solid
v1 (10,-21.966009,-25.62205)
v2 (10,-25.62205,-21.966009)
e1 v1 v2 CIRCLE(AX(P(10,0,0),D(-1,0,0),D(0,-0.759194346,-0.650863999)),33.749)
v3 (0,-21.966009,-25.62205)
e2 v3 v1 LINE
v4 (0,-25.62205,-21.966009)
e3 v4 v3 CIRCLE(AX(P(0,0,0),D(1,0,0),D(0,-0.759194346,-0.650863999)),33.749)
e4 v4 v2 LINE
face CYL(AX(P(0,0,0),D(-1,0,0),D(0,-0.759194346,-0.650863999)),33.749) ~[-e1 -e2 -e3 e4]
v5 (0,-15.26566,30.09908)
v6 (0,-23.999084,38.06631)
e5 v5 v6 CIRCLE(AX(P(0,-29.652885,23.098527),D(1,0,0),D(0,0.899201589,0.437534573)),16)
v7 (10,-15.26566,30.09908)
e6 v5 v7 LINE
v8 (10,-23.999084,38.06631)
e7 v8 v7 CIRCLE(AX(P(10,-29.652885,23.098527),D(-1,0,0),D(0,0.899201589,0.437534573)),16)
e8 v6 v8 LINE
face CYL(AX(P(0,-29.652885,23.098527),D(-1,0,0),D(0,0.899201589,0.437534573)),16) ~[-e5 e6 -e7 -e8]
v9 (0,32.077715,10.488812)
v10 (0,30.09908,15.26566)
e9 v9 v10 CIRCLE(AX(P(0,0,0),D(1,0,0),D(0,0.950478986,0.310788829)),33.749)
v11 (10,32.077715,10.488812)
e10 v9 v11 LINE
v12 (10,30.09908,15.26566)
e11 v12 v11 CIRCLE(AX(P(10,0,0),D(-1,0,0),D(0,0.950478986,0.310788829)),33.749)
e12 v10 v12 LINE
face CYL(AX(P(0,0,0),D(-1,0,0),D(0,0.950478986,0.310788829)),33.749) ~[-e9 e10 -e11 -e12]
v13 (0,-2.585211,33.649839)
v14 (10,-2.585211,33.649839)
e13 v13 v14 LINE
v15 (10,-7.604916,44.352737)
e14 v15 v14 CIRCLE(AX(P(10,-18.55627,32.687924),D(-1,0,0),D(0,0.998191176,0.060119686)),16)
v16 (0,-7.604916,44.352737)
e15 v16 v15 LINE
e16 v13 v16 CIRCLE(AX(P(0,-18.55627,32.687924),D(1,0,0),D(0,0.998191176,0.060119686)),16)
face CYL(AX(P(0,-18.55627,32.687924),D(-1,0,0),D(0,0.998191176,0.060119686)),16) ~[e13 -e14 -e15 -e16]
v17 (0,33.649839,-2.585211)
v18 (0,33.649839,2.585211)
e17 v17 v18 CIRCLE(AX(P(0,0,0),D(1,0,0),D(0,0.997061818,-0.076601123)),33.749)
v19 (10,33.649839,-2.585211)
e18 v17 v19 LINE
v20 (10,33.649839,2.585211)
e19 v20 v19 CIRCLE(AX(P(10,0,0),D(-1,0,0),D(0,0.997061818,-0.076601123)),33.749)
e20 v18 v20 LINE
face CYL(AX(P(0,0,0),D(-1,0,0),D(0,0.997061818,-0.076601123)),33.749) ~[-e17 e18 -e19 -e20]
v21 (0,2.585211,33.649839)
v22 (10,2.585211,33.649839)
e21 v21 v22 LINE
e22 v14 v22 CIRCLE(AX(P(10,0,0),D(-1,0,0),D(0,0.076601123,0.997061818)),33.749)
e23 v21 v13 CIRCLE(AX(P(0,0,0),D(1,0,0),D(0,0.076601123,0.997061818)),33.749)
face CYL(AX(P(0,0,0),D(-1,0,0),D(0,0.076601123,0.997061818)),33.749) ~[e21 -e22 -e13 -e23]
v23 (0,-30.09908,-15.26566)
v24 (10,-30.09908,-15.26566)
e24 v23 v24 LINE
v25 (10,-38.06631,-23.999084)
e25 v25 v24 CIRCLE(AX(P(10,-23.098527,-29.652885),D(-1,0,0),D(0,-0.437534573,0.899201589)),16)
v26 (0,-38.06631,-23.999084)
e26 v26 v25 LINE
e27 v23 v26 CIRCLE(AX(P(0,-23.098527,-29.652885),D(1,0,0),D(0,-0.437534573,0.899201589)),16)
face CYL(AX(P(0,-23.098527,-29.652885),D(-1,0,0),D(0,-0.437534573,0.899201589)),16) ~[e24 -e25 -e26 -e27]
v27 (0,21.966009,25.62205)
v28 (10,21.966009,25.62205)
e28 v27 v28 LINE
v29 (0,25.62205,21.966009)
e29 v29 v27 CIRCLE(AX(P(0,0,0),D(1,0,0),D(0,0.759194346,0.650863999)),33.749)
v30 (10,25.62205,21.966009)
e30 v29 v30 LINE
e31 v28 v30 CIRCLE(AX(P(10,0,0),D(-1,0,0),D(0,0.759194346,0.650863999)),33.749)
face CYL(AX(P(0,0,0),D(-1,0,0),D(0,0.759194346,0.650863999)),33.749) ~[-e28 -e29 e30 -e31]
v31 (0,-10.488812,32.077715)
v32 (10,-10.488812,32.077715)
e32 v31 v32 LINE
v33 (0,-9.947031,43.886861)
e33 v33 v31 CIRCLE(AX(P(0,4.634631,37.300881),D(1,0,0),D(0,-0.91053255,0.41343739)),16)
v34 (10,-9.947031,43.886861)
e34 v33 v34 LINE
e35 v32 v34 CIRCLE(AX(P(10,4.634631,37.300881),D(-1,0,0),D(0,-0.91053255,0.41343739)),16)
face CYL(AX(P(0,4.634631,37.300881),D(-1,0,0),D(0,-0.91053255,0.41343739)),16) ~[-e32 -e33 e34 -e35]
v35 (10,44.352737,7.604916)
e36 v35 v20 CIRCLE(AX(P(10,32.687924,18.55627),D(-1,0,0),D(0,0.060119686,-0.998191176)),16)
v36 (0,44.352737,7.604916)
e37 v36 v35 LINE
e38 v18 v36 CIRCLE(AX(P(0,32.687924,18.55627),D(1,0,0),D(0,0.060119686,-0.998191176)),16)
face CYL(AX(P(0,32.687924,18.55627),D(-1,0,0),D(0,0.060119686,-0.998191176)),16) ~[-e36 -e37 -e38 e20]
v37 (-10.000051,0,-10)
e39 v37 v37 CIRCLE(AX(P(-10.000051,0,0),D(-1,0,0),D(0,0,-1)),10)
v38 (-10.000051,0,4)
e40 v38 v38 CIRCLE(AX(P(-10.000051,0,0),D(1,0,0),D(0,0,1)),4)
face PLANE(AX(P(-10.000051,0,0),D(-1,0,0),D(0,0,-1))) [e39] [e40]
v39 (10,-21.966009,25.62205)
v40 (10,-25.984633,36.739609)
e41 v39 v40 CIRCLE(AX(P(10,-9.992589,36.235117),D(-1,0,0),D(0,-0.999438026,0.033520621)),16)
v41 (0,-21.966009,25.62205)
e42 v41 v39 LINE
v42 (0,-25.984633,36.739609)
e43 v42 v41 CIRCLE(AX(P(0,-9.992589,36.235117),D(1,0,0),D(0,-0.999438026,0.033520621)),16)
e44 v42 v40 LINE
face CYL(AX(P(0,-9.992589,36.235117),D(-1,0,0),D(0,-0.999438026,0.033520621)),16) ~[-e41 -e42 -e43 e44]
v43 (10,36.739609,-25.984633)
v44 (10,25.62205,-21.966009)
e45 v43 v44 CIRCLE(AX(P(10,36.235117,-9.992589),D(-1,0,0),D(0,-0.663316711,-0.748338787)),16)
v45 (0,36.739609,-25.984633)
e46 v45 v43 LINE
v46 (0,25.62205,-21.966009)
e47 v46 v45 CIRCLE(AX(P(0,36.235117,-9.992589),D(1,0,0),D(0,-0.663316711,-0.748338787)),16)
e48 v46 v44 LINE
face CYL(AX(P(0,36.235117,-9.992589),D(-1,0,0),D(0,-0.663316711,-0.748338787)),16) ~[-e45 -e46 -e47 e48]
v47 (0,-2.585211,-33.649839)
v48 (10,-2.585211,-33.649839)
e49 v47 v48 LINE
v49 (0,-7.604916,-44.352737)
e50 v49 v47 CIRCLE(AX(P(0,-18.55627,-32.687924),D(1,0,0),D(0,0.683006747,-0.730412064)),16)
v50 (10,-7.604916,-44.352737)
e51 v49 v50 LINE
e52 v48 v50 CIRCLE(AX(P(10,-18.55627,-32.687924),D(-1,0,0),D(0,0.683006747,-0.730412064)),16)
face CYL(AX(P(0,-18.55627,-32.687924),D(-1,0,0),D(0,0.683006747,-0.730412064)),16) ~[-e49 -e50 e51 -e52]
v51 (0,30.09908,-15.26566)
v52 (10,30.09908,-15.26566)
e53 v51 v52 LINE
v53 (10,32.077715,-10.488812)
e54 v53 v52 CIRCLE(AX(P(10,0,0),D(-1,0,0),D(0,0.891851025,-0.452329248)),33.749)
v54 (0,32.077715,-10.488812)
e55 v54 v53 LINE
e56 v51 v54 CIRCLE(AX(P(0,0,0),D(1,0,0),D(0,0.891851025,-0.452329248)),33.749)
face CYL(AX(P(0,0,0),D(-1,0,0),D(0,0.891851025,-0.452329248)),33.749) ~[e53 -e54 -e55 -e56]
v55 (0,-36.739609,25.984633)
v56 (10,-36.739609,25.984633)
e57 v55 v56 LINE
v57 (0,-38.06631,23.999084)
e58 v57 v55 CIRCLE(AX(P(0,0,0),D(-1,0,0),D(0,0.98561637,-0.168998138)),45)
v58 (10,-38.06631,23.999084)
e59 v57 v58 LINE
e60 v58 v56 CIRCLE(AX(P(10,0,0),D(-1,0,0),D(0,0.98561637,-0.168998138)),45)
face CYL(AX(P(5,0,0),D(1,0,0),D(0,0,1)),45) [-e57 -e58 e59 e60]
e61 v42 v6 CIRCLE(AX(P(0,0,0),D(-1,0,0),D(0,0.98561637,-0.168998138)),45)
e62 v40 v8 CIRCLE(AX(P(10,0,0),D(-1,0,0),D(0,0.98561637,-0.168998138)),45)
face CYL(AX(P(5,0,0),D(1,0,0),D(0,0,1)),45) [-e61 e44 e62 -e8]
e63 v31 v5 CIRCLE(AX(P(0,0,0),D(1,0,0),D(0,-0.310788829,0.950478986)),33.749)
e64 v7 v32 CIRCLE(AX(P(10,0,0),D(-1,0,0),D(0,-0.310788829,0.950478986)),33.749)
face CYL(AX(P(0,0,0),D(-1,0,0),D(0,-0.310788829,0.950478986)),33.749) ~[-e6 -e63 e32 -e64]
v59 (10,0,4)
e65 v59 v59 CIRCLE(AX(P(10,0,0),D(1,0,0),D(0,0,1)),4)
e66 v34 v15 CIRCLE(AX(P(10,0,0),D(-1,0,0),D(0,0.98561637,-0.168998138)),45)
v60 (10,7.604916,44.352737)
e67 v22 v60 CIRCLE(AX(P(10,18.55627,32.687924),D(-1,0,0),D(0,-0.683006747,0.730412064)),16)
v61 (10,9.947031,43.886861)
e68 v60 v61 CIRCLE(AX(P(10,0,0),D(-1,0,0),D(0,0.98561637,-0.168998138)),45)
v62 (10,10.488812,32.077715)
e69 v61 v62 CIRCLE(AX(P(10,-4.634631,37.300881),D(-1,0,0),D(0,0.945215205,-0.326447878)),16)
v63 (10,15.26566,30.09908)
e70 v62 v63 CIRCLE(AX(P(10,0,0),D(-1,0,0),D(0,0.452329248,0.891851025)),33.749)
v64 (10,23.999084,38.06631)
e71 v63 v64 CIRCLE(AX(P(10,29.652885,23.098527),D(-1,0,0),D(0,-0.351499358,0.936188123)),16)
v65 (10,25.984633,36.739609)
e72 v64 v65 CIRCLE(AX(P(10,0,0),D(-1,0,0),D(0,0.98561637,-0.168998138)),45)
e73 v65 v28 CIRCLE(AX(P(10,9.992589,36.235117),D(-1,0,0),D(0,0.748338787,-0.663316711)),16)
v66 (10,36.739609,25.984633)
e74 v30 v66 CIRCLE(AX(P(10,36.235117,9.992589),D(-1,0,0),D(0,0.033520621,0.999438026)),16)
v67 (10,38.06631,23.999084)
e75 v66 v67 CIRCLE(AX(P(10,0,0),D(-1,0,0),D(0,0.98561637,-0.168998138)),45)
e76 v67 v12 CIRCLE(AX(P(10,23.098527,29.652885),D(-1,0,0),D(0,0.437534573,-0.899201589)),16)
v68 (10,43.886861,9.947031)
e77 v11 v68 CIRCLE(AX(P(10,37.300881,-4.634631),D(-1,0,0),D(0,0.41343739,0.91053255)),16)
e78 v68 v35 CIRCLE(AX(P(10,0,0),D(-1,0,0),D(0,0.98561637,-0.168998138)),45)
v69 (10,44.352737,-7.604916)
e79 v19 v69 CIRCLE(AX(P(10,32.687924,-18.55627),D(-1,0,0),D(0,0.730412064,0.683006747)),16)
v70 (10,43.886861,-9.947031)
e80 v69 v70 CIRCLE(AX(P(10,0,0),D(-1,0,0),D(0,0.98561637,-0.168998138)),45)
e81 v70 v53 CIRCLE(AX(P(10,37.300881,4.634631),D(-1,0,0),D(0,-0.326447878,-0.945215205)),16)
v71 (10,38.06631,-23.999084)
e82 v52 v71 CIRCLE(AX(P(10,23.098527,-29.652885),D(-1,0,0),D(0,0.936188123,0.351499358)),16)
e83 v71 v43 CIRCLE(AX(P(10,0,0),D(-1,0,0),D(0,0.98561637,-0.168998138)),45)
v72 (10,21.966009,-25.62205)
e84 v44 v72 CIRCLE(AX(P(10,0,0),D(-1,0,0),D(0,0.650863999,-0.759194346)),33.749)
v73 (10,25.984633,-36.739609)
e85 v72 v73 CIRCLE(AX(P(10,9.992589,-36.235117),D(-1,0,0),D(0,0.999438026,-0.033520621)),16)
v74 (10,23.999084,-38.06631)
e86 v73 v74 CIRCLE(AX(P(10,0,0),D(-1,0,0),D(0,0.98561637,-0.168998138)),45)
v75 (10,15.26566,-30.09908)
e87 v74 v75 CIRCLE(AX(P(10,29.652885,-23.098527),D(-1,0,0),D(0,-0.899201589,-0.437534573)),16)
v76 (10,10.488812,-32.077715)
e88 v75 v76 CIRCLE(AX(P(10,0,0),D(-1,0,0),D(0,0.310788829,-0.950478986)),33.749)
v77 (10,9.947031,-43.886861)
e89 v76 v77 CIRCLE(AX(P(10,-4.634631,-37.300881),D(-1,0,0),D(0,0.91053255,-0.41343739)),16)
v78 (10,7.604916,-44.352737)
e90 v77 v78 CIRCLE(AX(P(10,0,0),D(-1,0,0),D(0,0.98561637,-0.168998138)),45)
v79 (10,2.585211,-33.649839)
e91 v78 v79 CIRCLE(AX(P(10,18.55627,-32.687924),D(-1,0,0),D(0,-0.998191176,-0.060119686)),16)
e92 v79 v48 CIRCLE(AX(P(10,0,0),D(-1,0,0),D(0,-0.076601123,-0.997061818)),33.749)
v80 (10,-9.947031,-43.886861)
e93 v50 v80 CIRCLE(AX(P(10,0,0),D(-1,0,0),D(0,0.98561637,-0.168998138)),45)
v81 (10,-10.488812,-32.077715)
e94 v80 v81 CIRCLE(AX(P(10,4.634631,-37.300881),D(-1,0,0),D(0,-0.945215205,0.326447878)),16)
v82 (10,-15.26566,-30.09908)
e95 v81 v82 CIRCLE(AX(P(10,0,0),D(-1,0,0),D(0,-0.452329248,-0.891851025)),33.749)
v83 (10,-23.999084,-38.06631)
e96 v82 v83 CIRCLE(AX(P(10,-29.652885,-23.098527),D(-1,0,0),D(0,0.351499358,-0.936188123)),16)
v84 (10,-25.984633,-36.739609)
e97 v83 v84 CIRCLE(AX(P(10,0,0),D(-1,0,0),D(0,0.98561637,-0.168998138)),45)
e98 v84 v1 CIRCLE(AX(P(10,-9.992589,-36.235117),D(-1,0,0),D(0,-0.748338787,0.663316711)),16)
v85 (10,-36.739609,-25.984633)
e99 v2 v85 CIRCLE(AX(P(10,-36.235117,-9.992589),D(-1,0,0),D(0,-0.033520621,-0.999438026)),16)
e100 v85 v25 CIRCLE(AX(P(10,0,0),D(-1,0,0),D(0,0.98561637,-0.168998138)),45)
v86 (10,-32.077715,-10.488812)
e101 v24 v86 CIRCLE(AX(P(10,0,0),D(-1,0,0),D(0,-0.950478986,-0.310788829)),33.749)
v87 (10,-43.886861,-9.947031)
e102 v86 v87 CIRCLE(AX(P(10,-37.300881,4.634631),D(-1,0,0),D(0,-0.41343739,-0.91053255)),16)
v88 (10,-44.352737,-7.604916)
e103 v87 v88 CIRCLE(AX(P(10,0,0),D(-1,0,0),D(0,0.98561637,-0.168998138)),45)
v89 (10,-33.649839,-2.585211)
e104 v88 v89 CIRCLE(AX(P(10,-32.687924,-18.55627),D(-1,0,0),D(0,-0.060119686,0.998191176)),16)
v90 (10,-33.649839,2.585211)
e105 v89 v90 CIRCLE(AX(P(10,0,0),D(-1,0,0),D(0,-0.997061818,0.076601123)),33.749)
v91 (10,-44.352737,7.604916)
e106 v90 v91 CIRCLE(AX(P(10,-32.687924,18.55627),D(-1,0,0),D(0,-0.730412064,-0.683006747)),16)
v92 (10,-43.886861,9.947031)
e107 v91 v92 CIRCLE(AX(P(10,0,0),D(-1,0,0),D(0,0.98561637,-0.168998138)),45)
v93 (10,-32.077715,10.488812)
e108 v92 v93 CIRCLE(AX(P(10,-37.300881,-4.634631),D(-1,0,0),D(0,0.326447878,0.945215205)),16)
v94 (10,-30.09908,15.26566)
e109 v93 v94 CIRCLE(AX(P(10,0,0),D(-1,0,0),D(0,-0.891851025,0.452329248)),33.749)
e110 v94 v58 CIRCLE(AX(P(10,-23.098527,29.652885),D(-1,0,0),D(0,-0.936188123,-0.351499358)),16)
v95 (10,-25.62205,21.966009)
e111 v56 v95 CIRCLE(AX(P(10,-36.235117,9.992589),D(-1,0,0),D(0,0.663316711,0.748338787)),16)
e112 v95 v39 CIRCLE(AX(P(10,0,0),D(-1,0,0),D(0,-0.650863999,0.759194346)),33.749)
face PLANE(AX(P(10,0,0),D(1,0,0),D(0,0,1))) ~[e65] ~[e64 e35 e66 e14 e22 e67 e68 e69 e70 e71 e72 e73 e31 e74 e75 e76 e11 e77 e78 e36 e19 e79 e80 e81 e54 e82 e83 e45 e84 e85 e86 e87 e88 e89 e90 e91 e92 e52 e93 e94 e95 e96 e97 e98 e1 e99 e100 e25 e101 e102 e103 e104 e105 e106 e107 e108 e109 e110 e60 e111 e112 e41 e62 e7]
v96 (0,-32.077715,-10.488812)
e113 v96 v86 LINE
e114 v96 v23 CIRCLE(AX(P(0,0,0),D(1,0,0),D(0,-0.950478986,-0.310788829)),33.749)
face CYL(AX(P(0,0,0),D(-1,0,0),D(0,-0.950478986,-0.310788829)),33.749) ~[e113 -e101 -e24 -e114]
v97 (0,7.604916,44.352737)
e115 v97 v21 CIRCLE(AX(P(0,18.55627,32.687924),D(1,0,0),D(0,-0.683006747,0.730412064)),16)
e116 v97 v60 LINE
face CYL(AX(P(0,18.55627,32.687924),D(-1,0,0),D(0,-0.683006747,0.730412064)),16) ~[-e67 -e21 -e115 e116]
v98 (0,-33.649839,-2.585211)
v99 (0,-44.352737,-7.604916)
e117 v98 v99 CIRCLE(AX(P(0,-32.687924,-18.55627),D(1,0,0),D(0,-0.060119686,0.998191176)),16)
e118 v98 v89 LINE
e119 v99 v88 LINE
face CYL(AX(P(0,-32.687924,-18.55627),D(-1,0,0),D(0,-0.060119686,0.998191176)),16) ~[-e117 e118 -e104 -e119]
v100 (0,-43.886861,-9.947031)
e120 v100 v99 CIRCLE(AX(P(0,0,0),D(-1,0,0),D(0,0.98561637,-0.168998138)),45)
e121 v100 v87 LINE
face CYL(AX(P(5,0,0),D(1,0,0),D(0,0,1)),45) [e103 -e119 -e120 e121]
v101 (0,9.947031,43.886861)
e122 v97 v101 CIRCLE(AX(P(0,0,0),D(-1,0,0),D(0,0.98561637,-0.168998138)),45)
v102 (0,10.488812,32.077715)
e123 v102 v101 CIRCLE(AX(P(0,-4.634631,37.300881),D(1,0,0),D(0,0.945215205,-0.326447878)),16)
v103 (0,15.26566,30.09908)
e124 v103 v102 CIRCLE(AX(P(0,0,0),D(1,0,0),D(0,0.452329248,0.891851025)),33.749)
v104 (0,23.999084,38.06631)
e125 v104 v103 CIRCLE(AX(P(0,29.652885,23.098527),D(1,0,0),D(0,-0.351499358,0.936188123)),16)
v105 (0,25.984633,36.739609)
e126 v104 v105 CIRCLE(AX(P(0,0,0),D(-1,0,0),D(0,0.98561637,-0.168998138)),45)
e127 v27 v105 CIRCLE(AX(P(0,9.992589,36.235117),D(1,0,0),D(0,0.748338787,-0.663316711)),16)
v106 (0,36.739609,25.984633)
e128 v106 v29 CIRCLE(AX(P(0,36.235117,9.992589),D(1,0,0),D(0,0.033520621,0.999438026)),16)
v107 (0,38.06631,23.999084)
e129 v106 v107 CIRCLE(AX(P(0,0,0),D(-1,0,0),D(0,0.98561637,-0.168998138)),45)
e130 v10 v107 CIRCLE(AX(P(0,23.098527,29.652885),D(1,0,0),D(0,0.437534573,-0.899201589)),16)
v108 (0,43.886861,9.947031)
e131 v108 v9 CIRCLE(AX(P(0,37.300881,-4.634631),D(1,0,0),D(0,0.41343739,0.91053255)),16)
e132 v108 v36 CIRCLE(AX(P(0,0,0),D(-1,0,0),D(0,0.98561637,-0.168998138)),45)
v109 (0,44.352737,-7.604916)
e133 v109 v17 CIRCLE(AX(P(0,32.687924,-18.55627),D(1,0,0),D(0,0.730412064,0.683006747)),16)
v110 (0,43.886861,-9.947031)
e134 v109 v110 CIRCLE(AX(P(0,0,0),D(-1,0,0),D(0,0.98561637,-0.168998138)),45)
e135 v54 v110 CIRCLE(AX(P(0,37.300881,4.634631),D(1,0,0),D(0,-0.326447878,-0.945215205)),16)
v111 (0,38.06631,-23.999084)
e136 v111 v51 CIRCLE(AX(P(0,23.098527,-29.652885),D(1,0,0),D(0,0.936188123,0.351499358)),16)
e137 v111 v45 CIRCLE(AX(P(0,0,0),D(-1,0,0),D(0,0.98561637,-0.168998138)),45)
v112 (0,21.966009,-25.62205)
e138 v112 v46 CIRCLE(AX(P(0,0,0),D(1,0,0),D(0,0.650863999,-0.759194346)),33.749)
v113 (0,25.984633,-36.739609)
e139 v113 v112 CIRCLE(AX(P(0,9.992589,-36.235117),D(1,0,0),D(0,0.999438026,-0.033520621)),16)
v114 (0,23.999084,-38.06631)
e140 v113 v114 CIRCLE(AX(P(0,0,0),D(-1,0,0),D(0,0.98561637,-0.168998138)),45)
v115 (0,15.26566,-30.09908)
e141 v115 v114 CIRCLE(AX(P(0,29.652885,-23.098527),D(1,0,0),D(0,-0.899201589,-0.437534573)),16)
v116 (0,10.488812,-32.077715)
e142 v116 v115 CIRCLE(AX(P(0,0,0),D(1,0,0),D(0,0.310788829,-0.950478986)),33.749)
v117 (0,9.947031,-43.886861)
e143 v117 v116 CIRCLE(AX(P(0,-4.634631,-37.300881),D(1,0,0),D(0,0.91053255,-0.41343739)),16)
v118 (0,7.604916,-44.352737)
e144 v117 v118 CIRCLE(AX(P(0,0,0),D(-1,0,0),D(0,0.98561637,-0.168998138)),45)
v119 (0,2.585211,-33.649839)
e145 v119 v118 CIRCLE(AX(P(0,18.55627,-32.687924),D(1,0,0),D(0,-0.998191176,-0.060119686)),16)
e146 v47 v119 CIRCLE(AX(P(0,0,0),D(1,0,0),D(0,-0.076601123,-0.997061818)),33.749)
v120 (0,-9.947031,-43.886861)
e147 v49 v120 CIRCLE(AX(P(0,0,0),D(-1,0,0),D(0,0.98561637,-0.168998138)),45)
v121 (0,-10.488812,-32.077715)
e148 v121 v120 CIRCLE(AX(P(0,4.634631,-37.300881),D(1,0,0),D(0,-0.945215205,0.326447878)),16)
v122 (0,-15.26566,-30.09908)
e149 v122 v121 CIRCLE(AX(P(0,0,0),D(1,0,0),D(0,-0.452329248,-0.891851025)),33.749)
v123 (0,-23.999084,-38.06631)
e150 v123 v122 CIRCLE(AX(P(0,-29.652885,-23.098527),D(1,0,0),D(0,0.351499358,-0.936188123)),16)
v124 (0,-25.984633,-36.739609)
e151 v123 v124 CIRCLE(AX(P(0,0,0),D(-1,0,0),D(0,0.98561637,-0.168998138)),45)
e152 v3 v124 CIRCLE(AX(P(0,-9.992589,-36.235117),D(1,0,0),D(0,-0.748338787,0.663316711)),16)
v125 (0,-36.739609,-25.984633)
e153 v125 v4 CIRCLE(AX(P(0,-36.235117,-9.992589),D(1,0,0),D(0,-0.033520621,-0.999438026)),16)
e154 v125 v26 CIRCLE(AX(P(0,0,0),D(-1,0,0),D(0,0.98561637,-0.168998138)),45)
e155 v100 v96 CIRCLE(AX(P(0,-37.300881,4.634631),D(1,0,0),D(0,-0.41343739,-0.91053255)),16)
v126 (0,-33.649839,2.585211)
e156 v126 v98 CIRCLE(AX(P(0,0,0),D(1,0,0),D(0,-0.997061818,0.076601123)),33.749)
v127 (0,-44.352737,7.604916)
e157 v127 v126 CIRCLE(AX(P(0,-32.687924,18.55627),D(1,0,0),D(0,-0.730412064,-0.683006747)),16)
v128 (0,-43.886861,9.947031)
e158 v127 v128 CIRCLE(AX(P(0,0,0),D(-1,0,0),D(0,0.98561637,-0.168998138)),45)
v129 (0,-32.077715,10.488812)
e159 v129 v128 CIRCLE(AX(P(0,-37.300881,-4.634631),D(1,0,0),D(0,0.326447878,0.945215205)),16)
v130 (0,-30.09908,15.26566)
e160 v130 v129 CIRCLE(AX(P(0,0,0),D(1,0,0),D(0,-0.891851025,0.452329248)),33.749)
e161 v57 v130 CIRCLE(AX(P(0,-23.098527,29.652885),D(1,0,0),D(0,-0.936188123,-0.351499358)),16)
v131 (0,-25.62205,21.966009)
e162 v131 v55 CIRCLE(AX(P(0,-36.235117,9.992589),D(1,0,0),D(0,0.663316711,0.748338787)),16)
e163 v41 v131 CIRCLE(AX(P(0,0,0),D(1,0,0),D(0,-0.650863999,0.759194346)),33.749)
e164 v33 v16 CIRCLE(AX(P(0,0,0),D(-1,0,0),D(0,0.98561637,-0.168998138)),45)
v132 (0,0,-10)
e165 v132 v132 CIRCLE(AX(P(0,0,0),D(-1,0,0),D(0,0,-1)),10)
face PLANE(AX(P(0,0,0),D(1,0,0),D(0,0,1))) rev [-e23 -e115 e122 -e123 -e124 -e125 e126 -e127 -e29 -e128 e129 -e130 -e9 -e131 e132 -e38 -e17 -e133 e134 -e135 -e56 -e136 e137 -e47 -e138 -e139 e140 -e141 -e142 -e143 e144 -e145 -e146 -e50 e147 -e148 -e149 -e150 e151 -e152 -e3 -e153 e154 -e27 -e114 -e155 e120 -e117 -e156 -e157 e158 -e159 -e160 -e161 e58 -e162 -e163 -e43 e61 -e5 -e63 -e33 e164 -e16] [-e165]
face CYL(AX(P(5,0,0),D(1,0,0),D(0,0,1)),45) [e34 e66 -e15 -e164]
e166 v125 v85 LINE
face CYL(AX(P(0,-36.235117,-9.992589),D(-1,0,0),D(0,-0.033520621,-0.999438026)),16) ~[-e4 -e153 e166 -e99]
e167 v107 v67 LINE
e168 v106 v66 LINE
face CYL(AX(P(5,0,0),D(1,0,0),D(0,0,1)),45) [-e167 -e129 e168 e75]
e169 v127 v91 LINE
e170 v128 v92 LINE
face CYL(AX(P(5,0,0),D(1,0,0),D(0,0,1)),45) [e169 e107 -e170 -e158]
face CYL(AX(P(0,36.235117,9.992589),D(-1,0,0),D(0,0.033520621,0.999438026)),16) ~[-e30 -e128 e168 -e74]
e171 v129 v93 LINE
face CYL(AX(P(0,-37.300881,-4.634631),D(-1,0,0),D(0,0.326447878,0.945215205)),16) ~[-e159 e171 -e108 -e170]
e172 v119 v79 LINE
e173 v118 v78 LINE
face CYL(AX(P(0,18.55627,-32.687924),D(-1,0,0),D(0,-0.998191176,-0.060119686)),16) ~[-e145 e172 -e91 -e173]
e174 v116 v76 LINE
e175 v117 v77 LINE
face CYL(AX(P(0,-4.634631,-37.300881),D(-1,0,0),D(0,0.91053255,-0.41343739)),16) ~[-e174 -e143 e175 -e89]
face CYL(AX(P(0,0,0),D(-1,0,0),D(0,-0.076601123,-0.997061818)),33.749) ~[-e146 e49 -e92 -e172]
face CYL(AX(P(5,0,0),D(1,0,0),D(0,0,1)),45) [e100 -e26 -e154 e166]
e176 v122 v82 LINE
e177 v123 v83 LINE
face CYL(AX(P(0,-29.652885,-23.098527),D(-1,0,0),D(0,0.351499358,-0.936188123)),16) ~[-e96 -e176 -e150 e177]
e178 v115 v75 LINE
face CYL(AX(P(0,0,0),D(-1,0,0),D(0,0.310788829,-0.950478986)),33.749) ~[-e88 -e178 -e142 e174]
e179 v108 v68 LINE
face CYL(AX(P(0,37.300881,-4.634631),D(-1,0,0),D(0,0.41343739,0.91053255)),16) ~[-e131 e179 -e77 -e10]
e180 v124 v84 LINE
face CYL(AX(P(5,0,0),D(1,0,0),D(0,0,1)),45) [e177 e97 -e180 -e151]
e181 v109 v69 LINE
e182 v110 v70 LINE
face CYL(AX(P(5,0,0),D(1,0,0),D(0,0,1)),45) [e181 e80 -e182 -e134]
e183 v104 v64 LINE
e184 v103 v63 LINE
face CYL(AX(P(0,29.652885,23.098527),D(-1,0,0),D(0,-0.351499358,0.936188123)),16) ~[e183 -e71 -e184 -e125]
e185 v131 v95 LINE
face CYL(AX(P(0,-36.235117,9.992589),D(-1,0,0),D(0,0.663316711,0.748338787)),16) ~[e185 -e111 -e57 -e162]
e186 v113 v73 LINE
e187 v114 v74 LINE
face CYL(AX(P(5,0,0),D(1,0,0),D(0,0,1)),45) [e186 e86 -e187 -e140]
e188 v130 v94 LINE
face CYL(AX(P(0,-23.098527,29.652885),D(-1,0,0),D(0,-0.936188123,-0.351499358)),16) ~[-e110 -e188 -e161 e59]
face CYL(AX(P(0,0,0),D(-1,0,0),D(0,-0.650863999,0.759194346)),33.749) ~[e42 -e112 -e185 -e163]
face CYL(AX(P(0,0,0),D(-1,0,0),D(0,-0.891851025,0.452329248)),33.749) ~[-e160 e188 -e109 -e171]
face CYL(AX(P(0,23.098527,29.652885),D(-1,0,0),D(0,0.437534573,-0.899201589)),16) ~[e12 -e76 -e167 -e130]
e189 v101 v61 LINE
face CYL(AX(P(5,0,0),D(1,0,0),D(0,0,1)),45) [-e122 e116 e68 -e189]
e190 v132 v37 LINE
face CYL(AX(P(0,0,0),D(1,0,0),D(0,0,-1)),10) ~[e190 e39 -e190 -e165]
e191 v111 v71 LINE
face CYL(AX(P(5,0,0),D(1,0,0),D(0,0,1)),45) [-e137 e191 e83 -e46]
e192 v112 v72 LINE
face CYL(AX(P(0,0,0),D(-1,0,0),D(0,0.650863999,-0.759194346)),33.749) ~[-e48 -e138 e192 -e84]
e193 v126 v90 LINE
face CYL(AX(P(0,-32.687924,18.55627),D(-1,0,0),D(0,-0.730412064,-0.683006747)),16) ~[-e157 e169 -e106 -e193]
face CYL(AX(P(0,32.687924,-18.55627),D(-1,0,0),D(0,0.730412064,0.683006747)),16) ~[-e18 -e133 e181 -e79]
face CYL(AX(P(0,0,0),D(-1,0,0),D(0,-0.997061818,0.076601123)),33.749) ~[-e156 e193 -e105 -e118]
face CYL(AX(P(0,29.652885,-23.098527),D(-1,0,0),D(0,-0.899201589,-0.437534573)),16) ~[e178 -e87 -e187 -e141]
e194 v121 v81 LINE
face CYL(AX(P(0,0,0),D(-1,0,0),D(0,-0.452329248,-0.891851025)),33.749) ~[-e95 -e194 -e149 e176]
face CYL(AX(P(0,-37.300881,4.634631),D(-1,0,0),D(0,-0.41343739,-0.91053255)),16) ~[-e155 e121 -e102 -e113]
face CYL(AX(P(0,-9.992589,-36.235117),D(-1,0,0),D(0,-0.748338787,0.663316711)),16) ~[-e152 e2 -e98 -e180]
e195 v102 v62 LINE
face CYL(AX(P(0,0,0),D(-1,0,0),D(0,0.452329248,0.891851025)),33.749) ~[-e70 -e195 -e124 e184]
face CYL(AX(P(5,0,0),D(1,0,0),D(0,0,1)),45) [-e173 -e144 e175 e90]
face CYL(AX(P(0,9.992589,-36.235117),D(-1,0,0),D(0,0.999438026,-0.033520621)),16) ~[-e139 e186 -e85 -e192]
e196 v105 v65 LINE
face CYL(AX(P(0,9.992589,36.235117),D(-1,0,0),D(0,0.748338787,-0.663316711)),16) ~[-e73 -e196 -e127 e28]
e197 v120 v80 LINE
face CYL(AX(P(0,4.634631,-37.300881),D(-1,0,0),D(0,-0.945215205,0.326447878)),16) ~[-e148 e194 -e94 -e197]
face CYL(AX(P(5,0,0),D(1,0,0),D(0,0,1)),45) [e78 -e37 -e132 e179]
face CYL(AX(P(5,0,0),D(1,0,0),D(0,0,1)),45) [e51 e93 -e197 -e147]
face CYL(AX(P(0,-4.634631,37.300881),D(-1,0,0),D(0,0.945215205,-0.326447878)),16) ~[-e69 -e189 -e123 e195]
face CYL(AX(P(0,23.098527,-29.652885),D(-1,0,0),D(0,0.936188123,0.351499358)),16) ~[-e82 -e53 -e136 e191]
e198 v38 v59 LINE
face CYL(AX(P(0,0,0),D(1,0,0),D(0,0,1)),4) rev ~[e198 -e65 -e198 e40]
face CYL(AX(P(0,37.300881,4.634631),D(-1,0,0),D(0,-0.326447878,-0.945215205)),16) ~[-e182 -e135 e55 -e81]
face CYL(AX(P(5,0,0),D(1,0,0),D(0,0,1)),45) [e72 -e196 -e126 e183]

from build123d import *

# Parameters (mm, degrees)
BASPROSKE_W      = 10
BASPROSKE_H      = 45
TOOTHCUT_DEPTH   = 65.420493634
TEETHCUTS_COUNT  = 16
TEETHCUTS_ANGLE  = 337.5
HUBNEAONESKE_R   = 10
HUBNEARONE_DEPTH = 10.0000508
BORSKE_R         = 4
BORE_DEPTH       = 20.0000508


with BuildPart() as part:
    # BasProSke → Base-Revolve (revolve)
    with BuildSketch(Plane(origin=(0, 0, 0), x_dir=(1, 0, 0), z_dir=(0, 1, 0)), mode=Mode.PRIVATE) as base_revolve_sk:
        with Locations((5, 22.5)):
            Rectangle(BASPROSKE_W, BASPROSKE_H)
    revolve(base_revolve_sk.sketch.rotate(Axis((-10, 0, 0), (1, 0, 0)), 180), axis=Axis((-10, 0, 0), (1, 0, 0)))

    # TooCutSke → ToothCut (cut, through all)
    with BuildSketch(Plane(origin=(0, 0, 0), x_dir=(0, 0, -1), z_dir=(1, 0, 0))):
        with BuildLine():
            ThreePointArc((2.585211293, 33.64983928), (0, 33.749), (-2.585211293, 33.64983928))
            ThreePointArc((-2.585211293, 33.64983928), (-4.077113604, 39.496303475), (-7.62816215, 44.37451732))
            ThreePointArc((-7.62816215, 44.37451732), (0, 45.0254), (7.62816215, 44.37451732))
            ThreePointArc((7.62816215, 44.37451732), (4.077113604, 39.496303475), (2.585211293, 33.64983928))
        make_face()
    toothcut = extrude(amount=TOOTHCUT_DEPTH, mode=Mode.SUBTRACT)

    # TeethCuts: ToothCut ×16 about axis
    teethcuts_axis = Axis((-10, 0, 0), (1, 0, 0))
    for i in range(1, TEETHCUTS_COUNT):
        add(toothcut.rotate(teethcuts_axis, i * TEETHCUTS_ANGLE / (TEETHCUTS_COUNT - 1)), mode=Mode.SUBTRACT)

    # HubNeaOneSke → HubNearOne (add)
    with BuildSketch(Plane.ZY):
        with Locations(Location((0, 0, 0), (0, 0, 180))):
            Circle(HUBNEAONESKE_R)
    extrude(amount=HUBNEARONE_DEPTH)

    # BorSke → Bore (cut, symmetric)
    with BuildSketch(Plane(origin=(0, 0, 0), x_dir=(0, 0, -1), z_dir=(1, 0, 0))):
        with Locations(Location((0, 0, 0), (0, 0, 180))):
            Circle(BORSKE_R)
    extrude(amount=BORE_DEPTH, both=True, mode=Mode.SUBTRACT)


solid = part.part
